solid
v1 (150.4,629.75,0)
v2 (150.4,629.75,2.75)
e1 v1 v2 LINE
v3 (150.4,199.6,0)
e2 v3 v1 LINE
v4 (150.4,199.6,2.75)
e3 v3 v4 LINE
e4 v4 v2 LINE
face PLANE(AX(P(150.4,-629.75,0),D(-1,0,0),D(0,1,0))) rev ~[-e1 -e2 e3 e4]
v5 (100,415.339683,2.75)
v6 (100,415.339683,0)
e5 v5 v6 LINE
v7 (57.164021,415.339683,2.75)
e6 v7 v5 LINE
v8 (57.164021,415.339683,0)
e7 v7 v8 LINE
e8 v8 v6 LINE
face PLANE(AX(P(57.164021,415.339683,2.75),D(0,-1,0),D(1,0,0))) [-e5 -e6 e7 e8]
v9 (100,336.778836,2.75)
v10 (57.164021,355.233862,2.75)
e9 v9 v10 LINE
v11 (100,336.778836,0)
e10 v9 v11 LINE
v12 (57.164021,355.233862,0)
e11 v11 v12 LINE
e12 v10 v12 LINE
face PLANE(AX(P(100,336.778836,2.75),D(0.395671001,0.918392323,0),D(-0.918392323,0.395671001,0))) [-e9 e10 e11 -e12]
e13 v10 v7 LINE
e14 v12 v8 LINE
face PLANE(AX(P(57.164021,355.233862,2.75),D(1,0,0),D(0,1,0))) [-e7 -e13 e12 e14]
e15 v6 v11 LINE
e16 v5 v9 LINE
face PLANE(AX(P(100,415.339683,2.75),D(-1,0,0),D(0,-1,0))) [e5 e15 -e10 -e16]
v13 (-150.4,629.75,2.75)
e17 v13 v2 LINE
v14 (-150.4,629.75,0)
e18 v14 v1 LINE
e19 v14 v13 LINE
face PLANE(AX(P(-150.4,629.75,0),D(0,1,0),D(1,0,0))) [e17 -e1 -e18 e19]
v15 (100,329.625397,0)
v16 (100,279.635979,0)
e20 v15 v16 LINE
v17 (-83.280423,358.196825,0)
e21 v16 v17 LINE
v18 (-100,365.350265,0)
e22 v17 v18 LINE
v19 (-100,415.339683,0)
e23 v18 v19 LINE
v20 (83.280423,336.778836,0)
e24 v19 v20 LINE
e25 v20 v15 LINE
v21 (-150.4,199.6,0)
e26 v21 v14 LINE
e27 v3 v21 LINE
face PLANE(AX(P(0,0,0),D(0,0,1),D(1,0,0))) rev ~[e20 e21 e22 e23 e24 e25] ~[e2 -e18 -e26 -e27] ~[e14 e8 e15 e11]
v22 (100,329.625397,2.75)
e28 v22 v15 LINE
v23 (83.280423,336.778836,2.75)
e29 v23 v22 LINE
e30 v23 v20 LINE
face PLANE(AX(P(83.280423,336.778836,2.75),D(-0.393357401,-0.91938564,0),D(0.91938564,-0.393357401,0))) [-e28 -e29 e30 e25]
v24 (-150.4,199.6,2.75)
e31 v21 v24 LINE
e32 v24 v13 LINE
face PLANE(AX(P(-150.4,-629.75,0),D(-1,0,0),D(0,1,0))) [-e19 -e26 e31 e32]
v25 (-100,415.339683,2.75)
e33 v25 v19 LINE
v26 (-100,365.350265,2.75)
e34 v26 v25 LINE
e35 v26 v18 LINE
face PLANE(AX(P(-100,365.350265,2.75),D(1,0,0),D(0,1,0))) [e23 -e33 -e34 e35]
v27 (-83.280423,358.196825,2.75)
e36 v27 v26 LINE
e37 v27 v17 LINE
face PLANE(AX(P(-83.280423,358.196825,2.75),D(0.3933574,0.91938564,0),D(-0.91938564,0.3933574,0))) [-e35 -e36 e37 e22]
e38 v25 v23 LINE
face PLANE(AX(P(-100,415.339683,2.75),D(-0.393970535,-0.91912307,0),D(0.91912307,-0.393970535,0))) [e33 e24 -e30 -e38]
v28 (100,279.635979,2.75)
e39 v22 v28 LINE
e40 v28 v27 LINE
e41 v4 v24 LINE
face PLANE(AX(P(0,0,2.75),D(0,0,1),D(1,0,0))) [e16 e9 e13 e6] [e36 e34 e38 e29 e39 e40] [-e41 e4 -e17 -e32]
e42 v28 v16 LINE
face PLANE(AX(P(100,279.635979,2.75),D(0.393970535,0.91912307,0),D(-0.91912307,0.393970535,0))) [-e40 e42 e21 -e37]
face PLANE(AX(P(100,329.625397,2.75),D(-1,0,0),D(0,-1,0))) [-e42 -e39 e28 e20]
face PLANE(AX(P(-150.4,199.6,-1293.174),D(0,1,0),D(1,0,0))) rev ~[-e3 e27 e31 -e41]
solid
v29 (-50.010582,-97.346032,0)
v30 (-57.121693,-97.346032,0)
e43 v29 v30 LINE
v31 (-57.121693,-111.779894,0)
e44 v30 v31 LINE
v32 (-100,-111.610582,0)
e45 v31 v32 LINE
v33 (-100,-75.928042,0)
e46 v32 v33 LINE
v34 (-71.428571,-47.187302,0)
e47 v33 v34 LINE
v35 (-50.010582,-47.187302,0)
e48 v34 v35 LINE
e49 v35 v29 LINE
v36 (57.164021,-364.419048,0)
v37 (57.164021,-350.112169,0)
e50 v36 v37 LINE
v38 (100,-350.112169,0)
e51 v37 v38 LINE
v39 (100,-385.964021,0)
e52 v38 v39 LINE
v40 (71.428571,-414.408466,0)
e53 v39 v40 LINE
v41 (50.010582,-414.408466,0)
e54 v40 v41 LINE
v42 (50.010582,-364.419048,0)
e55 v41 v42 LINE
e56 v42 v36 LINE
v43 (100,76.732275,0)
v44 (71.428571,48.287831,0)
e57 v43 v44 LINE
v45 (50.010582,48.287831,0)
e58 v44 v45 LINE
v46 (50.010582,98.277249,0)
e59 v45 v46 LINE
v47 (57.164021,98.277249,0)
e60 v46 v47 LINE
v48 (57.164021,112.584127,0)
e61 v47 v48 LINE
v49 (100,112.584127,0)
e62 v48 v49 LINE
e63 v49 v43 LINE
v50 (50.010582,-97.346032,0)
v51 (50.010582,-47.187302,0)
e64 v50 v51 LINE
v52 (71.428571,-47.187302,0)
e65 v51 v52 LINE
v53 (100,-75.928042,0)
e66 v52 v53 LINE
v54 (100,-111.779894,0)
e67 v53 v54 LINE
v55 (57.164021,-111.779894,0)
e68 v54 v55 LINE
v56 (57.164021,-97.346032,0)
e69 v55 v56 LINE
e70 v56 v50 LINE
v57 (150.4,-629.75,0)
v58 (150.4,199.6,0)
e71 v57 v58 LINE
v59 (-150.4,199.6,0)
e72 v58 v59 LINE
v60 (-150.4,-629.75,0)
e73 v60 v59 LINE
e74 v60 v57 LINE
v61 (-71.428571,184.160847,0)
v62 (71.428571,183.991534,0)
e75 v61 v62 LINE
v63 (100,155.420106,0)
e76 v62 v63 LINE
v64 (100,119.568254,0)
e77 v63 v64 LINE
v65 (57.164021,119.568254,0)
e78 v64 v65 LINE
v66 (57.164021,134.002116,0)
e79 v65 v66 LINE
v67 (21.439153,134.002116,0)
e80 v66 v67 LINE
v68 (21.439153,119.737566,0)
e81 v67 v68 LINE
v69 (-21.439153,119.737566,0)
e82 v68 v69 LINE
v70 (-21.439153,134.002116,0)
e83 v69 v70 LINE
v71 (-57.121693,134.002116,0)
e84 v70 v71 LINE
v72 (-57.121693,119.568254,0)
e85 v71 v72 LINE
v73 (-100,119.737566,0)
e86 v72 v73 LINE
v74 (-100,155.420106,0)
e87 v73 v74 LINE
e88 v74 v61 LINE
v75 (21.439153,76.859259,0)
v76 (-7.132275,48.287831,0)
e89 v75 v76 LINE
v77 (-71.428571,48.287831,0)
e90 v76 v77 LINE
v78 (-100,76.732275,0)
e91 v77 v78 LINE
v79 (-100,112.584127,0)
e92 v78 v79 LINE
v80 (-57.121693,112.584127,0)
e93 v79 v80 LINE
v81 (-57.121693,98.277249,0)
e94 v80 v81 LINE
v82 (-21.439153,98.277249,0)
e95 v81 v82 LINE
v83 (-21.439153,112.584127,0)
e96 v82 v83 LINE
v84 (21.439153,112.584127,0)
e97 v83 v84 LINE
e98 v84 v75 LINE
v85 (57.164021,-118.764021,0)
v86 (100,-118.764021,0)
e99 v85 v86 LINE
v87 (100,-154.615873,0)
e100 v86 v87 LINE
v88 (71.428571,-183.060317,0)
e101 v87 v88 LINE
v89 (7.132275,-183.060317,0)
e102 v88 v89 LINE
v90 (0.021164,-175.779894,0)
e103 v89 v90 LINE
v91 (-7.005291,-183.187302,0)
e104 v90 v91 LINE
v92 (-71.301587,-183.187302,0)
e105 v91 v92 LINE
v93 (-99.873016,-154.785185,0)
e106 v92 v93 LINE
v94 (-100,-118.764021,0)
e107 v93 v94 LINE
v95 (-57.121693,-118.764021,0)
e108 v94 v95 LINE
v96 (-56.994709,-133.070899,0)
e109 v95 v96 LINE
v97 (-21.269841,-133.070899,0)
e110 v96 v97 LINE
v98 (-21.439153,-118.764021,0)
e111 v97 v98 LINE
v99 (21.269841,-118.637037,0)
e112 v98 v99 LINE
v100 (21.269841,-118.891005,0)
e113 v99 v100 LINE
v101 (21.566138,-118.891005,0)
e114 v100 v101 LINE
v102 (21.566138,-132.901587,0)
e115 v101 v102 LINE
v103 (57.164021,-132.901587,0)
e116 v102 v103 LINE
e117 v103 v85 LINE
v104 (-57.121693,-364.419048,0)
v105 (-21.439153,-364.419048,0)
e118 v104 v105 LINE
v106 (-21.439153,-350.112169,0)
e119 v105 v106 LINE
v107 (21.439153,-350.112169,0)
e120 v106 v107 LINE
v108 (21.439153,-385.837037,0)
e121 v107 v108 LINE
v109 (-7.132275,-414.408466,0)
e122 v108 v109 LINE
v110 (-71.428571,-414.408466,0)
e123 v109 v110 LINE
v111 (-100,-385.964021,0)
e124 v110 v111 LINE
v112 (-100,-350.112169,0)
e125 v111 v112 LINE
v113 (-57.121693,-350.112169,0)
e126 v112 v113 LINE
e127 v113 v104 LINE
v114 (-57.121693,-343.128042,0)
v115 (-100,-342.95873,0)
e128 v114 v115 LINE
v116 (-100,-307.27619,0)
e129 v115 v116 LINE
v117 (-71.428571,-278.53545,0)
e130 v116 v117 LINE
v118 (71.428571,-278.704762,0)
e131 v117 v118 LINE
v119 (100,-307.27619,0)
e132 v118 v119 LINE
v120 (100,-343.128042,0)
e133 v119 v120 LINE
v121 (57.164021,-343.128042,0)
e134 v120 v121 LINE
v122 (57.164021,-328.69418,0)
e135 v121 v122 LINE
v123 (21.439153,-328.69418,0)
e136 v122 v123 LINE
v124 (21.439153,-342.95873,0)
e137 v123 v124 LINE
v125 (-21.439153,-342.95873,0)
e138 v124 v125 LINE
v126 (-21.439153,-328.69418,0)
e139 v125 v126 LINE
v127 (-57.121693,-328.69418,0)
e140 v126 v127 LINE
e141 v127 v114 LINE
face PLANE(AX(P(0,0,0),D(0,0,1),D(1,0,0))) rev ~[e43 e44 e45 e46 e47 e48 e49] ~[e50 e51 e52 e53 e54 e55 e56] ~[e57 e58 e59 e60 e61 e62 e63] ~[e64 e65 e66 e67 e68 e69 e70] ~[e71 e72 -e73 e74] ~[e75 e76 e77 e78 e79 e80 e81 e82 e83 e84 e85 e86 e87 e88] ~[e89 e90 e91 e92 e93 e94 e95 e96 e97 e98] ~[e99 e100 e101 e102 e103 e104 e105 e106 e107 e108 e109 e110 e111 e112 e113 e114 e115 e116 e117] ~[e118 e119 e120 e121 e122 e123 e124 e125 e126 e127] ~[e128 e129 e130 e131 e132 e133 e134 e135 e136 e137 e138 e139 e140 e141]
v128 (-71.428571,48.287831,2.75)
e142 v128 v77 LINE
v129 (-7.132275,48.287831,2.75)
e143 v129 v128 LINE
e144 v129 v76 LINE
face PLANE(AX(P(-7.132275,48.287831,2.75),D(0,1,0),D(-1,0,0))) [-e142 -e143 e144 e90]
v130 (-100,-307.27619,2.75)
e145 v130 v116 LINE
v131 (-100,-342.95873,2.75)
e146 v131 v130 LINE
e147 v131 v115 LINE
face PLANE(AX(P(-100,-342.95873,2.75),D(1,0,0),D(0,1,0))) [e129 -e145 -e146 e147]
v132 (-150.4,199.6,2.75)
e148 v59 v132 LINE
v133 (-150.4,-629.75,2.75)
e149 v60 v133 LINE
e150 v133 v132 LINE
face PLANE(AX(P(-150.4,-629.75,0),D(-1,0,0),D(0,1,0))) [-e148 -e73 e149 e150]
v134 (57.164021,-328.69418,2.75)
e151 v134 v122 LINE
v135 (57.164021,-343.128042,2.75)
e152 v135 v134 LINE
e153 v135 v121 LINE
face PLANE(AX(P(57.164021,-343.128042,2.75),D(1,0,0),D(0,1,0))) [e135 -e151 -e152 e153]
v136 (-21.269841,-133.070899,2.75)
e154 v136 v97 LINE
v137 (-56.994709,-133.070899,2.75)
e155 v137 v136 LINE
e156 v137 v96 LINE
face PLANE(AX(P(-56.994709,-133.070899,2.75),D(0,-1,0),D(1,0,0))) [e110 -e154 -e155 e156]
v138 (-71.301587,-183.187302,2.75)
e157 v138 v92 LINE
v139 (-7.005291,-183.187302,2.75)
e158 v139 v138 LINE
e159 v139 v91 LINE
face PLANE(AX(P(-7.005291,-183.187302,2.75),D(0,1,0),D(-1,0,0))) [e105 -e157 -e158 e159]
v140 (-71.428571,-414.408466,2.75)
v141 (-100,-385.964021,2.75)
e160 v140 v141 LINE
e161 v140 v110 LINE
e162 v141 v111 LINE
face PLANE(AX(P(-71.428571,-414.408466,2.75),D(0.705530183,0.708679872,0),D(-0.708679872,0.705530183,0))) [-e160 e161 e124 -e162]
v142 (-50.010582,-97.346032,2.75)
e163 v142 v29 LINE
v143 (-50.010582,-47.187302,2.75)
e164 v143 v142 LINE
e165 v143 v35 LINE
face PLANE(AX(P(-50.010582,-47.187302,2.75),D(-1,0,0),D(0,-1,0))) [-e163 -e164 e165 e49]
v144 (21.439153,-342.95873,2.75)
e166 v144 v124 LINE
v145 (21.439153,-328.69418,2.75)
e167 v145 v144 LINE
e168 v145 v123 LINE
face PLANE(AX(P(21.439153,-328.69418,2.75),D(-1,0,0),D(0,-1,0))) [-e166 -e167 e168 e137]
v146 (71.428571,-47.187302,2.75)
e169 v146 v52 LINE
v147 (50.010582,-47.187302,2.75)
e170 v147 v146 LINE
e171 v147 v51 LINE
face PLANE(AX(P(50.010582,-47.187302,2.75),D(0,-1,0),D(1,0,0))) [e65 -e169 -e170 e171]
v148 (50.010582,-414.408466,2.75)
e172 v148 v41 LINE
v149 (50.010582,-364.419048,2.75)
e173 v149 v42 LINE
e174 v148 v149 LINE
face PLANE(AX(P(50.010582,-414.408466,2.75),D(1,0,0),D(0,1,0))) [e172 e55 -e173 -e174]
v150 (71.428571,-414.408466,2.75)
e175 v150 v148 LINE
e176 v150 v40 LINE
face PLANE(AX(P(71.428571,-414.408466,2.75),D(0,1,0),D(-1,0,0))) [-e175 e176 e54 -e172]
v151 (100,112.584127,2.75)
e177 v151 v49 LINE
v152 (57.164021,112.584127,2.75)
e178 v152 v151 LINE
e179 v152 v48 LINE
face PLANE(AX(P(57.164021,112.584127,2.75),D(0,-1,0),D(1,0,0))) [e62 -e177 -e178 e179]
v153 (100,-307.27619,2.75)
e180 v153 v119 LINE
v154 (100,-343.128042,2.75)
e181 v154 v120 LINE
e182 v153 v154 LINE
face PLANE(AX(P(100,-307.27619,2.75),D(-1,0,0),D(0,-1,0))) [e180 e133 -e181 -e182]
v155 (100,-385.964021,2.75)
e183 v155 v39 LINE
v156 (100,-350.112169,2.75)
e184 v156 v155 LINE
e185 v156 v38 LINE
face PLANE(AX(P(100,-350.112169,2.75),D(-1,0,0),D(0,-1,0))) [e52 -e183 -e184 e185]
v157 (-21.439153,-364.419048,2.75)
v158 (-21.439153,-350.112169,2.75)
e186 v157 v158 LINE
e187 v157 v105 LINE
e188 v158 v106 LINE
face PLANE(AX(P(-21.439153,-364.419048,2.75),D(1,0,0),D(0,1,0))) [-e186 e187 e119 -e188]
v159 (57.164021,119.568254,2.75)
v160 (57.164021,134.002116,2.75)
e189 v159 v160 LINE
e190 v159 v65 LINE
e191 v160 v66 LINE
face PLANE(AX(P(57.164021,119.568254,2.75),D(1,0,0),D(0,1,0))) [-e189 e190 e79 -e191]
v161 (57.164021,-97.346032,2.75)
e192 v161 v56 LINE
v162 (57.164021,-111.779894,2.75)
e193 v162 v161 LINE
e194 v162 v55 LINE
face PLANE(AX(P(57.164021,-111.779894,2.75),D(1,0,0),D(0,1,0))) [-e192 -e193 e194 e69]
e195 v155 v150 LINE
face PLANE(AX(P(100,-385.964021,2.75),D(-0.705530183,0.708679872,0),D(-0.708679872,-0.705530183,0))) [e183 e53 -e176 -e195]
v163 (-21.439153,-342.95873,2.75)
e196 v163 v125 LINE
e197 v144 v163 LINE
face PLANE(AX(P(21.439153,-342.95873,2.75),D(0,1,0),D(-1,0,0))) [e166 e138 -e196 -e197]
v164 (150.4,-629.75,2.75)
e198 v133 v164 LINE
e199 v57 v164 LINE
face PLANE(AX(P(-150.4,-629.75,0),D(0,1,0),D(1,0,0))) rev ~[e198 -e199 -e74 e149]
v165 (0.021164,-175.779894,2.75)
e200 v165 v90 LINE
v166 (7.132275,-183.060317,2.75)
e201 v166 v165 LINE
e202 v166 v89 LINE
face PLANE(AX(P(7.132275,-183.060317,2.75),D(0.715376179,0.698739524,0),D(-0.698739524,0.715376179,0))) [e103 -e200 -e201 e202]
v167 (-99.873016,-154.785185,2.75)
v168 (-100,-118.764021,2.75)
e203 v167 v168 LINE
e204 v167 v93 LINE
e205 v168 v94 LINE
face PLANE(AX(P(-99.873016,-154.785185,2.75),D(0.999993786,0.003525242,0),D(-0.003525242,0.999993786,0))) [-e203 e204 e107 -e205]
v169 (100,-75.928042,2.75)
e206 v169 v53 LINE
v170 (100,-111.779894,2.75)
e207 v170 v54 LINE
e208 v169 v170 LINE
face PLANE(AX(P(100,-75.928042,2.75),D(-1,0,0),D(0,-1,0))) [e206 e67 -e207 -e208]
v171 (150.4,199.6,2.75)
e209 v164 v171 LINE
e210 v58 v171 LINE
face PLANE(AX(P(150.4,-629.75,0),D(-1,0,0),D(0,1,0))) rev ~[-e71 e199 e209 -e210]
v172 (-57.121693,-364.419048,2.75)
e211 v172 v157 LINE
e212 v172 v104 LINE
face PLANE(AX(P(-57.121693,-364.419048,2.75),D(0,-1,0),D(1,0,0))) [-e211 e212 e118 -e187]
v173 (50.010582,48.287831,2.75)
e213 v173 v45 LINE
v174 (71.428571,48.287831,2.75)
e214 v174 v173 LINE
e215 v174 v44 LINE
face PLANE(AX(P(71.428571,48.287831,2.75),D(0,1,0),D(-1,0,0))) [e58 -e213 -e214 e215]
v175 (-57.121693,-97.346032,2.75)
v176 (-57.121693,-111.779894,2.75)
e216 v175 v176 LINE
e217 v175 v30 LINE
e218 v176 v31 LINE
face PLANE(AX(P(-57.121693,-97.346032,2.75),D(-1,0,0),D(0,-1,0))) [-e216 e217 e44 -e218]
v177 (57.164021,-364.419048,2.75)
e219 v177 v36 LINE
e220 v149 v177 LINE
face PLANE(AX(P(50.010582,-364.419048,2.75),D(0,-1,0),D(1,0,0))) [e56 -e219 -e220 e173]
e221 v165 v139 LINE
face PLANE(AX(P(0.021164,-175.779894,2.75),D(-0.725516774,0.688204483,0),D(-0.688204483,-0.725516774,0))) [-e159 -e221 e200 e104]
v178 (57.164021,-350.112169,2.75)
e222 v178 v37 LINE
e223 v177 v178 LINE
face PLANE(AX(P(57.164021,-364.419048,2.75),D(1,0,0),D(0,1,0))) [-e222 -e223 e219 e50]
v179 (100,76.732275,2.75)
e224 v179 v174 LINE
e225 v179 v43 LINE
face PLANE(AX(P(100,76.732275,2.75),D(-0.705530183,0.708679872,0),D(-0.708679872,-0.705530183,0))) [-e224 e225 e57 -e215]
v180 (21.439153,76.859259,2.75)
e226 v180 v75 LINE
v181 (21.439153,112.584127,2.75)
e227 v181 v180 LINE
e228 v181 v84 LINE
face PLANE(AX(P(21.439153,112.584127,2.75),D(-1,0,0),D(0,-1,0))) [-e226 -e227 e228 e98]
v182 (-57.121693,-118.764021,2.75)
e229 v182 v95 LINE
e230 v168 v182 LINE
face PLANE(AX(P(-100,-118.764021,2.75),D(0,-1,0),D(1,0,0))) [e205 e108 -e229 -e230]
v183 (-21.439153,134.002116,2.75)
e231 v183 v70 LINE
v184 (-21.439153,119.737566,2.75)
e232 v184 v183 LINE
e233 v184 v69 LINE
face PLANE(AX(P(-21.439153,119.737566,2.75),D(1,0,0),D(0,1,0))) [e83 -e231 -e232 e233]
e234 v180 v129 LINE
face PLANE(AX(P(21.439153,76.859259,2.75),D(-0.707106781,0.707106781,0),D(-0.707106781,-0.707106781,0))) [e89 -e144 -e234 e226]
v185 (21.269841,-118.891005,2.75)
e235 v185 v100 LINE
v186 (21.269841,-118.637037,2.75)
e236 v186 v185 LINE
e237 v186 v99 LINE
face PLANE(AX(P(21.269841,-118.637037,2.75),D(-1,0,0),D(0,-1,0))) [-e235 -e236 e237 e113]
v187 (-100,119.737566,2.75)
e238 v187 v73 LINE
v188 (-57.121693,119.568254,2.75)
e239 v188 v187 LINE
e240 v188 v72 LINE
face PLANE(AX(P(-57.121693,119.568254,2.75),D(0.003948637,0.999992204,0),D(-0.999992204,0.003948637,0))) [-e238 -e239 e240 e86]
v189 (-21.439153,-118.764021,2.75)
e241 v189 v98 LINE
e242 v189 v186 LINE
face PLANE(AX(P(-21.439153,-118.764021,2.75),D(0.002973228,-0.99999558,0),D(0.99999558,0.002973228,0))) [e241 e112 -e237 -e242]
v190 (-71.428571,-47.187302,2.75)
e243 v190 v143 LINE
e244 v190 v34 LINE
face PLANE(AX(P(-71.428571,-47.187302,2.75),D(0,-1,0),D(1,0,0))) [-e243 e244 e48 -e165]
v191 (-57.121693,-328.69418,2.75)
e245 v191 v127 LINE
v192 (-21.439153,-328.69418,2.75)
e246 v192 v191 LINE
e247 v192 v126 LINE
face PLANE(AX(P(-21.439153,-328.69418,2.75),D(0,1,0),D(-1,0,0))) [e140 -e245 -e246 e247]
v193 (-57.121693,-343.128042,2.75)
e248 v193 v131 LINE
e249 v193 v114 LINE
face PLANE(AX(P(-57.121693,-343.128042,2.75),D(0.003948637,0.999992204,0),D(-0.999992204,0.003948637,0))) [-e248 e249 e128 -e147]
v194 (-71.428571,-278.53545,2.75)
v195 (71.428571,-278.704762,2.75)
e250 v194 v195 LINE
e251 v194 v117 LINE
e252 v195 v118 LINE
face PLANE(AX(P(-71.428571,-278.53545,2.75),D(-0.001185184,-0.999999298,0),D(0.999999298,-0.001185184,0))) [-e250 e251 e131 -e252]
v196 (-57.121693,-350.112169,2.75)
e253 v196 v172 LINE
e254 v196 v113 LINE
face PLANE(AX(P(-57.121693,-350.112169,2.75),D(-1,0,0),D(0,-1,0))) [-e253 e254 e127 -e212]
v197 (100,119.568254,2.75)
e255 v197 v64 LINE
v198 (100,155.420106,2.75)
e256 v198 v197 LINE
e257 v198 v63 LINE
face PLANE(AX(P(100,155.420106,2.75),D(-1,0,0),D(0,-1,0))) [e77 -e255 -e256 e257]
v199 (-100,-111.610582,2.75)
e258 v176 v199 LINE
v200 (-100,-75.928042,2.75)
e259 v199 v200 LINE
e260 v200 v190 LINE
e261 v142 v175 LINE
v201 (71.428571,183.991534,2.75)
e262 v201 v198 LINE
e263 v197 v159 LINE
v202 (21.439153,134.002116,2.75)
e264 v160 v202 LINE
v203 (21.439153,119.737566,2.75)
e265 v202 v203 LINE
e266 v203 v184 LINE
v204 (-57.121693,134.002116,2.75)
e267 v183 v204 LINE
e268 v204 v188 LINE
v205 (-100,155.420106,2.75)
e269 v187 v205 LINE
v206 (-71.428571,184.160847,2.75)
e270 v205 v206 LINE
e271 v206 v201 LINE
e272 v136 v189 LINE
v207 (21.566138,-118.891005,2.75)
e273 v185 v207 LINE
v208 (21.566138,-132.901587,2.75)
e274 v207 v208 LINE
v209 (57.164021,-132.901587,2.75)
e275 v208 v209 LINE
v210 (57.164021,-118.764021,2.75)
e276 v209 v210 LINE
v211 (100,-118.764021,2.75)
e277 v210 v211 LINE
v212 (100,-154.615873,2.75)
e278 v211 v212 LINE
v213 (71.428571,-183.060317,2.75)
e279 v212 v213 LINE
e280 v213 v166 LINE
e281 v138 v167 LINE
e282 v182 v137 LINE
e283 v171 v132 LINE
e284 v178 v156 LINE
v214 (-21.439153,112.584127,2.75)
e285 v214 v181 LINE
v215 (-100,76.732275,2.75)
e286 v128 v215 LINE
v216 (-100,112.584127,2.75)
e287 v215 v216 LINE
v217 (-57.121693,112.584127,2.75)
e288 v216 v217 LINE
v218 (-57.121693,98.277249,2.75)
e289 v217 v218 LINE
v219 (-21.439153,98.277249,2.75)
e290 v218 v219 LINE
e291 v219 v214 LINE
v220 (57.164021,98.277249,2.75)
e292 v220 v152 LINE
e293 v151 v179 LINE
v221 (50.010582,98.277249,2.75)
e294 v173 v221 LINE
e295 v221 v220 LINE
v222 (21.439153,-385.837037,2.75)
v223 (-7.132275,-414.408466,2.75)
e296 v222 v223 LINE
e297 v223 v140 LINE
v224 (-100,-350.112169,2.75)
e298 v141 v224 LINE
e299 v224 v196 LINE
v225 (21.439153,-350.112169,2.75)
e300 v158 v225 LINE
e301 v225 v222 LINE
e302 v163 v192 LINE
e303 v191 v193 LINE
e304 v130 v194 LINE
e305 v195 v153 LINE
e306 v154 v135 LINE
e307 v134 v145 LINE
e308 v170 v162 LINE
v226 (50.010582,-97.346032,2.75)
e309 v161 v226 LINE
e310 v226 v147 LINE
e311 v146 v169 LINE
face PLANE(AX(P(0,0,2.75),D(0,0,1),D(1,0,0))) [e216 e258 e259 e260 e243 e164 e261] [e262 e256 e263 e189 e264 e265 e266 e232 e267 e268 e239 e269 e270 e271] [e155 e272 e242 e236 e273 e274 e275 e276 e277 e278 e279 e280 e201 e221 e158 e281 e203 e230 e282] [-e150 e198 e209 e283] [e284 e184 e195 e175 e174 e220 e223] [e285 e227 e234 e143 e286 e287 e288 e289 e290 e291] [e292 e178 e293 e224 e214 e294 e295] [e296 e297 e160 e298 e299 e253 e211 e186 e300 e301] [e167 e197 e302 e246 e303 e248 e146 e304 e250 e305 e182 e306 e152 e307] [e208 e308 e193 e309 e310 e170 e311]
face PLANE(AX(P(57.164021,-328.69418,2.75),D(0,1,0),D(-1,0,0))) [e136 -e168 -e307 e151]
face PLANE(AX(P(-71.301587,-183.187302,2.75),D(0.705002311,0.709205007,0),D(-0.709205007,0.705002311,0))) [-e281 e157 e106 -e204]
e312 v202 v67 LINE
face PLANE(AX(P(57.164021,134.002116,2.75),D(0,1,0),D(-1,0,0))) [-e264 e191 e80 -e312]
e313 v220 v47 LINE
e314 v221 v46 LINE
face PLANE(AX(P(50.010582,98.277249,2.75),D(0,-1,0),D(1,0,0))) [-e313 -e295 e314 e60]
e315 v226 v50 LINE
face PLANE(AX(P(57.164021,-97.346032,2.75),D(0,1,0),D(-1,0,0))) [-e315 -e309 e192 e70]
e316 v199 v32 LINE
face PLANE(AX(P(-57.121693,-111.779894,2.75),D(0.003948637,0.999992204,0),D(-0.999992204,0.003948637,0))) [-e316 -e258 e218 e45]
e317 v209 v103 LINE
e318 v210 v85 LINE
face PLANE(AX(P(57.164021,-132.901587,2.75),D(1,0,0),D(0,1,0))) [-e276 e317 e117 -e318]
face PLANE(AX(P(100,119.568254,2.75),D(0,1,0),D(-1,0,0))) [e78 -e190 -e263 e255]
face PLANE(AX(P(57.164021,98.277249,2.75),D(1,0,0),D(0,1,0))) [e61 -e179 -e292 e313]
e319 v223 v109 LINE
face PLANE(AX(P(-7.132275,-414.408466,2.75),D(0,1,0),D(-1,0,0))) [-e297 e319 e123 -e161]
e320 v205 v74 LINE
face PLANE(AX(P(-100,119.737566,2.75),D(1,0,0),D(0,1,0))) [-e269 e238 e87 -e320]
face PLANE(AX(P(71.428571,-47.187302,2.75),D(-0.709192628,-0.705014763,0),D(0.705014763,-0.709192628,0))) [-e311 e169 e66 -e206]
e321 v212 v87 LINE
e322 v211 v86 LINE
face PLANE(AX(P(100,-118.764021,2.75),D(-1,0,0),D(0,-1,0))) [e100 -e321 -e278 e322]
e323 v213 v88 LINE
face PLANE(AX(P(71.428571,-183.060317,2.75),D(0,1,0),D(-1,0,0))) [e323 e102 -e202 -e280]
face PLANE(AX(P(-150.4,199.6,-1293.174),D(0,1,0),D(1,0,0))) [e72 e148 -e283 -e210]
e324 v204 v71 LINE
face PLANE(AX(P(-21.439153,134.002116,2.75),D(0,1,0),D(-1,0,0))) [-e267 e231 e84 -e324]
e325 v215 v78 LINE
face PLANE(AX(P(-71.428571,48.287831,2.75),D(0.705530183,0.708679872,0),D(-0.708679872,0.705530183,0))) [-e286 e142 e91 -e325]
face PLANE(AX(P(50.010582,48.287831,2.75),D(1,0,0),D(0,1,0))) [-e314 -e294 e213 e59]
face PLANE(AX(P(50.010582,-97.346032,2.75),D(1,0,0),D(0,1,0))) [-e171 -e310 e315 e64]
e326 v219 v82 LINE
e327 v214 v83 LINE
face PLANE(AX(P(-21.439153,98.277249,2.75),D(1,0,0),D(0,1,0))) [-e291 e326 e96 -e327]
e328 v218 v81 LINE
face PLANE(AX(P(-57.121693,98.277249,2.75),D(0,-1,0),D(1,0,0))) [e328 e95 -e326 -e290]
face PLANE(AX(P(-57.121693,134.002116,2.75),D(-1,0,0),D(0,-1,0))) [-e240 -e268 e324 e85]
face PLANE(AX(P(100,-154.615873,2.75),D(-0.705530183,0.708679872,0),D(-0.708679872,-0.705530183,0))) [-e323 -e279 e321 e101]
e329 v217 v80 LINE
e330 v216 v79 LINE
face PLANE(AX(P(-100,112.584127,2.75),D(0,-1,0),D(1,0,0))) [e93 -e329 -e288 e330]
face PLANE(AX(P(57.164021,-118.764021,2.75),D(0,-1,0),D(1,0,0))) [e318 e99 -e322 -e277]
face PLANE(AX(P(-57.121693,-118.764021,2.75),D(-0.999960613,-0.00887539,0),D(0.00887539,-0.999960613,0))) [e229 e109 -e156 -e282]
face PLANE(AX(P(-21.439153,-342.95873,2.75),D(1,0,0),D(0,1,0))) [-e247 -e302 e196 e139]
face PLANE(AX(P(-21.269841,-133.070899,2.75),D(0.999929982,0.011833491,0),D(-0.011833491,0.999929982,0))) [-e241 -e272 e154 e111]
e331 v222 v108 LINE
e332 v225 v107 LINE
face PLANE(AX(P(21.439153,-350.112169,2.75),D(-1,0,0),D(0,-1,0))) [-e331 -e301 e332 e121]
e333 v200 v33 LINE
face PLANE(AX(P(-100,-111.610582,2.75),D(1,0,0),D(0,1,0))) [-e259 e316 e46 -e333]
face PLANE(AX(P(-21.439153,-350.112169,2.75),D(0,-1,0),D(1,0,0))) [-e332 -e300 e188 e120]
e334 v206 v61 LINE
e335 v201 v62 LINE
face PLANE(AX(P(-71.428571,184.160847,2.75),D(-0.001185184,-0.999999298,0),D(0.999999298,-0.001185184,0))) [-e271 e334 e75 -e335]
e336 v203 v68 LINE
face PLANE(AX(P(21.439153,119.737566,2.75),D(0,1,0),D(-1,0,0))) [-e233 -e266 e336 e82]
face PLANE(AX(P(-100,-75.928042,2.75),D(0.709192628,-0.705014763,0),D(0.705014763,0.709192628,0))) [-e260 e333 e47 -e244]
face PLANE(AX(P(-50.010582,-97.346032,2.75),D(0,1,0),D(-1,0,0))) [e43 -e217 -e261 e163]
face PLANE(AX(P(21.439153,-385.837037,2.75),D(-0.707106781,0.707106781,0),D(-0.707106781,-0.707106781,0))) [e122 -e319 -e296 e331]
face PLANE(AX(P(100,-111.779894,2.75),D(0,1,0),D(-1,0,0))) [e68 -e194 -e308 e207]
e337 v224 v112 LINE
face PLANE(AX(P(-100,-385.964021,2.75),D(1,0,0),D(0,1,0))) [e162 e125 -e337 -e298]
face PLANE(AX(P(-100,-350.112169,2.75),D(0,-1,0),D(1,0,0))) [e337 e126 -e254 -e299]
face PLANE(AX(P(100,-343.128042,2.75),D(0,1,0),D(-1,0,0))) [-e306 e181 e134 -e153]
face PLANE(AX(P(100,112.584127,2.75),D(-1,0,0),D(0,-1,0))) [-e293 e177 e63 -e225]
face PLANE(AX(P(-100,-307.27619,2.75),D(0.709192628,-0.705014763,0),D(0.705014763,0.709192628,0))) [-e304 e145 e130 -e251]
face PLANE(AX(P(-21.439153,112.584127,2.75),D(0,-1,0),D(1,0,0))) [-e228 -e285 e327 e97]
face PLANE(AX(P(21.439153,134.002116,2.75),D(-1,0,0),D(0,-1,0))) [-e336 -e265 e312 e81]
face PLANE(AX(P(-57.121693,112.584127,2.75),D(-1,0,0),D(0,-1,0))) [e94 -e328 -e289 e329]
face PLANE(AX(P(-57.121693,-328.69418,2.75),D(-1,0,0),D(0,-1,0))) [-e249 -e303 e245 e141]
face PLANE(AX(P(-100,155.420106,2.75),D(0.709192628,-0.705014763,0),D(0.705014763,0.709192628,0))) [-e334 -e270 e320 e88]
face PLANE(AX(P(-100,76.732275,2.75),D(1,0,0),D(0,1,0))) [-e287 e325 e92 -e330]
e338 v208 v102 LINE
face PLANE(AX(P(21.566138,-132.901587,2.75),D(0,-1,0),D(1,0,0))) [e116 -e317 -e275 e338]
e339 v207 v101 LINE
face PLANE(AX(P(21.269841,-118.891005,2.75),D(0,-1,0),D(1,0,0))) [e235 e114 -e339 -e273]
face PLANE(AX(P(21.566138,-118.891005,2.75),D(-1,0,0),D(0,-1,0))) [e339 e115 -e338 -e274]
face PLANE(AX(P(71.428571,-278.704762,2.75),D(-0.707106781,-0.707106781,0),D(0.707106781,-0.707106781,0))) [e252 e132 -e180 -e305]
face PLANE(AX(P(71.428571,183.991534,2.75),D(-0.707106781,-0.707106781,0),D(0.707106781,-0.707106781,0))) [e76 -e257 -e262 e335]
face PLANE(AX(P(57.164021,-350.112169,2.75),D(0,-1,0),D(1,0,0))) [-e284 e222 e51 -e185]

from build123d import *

# Parameters (mm, degrees)
SKETCH_1_W                     = 300.8
SKETCH_1_H                     = 1259.5
EXTRUDE_1_DEPTH                = 2.75
CUT_EXTRUDE_1_DEPTH            = 10
SPLIT_BODIES_5_SURFACE_1_BACK  = 1295.924
SPLIT_BODIES_5_SURFACE_1_DEPTH = 2591.848
SPLIT_BODIES_5_SURFACE_2_BACK  = 1295.924
SPLIT_BODIES_5_SURFACE_2_DEPTH = 2591.848


with BuildPart() as part:
    # 草圖1 → 填料-伸長1 (new body)
    with BuildSketch(Plane.XY):
        Rectangle(SKETCH_1_W, SKETCH_1_H)
    extrude(amount=EXTRUDE_1_DEPTH)

    # 草圖2 → 除料-伸長1 (cut)
    with BuildSketch(Plane.XY.offset(2.75)):
        Polygon((100, 329.625396825), (100, 279.635978836), (-83.28042328, 358.196825397), (-100, 365.35026455), (-100, 415.33968254), (83.28042328, 336.778835979), align=None)
        Polygon((57.164021164, 355.233862434), (57.164021164, 415.33968254), (100, 415.33968254), (100, 336.778835979), align=None)
        Polygon((50.010582011, 98.277248677), (57.164021164, 98.277248677), (57.164021164, 112.584126984), (100, 112.584126984), (100, 76.732275132), (71.428571429, 48.287830688), (50.010582011, 48.287830688), align=None)
        Polygon((-71.428571429, 48.287830688), (-100, 76.732275132), (-100, 112.584126984), (-57.121693122, 112.584126984), (-57.121693122, 98.277248677), (-21.439153439, 98.277248677), (-21.439153439, 112.584126984), (21.439153439, 112.584126984), (21.439153439, 76.859259259), (-7.132275132, 48.287830688), align=None)
        Polygon((-21.439153439, 134.002116402), (-57.121693122, 134.002116402), (-57.121693122, 119.568253968), (-100, 119.737566138), (-100, 155.42010582), (-71.428571429, 184.160846561), (71.428571429, 183.991534392), (100, 155.42010582), (100, 119.568253968), (57.164021164, 119.568253968), (57.164021164, 134.002116402), (21.439153439, 134.002116402), (21.439153439, 119.737566138), (-21.439153439, 119.737566138), align=None)
        Polygon((21.566137566, -132.901587302), (57.164021164, -132.901587302), (57.164021164, -118.764021164), (100, -118.764021164), (100, -154.615873016), (71.428571429, -183.06031746), (7.132275132, -183.06031746), (0.021164021, -175.77989418), (-7.005291005, -183.187301587), (-71.301587302, -183.187301587), (-99.873015873, -154.785185185), (-100, -118.764021164), (-57.121693122, -118.764021164), (-56.994708995, -133.070899471), (-21.26984127, -133.070899471), (-21.439153439, -118.764021164), (21.26984127, -118.637037037), (21.26984127, -118.891005291), (21.566137566, -118.891005291), align=None)
        Polygon((50.010582011, -47.187301587), (71.428571429, -47.187301587), (100, -75.928042328), (100, -111.77989418), (57.164021164, -111.77989418), (57.164021164, -97.346031746), (50.010582011, -97.346031746), align=None)
        Polygon((-50.010582011, -97.346031746), (-57.121693122, -97.346031746), (-57.121693122, -111.77989418), (-100, -111.610582011), (-100, -75.928042328), (-71.428571429, -47.187301587), (-50.010582011, -47.187301587), align=None)
        Polygon((50.010582011, -364.419047619), (57.164021164, -364.419047619), (57.164021164, -350.112169312), (100, -350.112169312), (100, -385.964021164), (71.428571429, -414.408465608), (50.010582011, -414.408465608), align=None)
        Polygon((-71.428571429, -414.408465608), (-100, -385.964021164), (-100, -350.112169312), (-57.121693122, -350.112169312), (-57.121693122, -364.419047619), (-21.439153439, -364.419047619), (-21.439153439, -350.112169312), (21.439153439, -350.112169312), (21.439153439, -385.837037037), (-7.132275132, -414.408465608), align=None)
        Polygon((-21.439153439, -328.694179894), (-57.121693122, -328.694179894), (-57.121693122, -343.128042328), (-100, -342.958730159), (-100, -307.276190476), (-71.428571429, -278.535449735), (71.428571429, -278.704761905), (100, -307.276190476), (100, -343.128042328), (57.164021164, -343.128042328), (57.164021164, -328.694179894), (21.439153439, -328.694179894), (21.439153439, -342.958730159), (-21.439153439, -342.958730159), align=None)
    extrude(amount=-CUT_EXTRUDE_1_DEPTH, mode=Mode.SUBTRACT)


with BuildPart() as body_2:
    # Split Bodies 5: the piece behind the surface
    add(part.part)
    # Split Bodies 5 surface: a surface, the sketch's curves swept straight by 2591.848 mm
    with BuildLine(Plane.XY.offset(2.75).offset(-SPLIT_BODIES_5_SURFACE_1_BACK), mode=Mode.PRIVATE) as split_bodies_5_surface_1_path:
        Line((-150.4, 199.6), (150.4, 199.6))
    split_bodies_5_surface_1 = Shell.extrude(split_bodies_5_surface_1_path.wire(), (0 * SPLIT_BODIES_5_SURFACE_1_DEPTH, 0 * SPLIT_BODIES_5_SURFACE_1_DEPTH, 1 * SPLIT_BODIES_5_SURFACE_1_DEPTH))
    split(bisect_by=split_bodies_5_surface_1, keep=Keep.BOTTOM)


with BuildPart() as part_1:
    add(part.part)

    # Split Bodies 5: split by a surface, the side it looks to stays
    # Split Bodies 5 surface: a surface, the sketch's curves swept straight by 2591.848 mm
    with BuildLine(Plane.XY.offset(2.75).offset(-SPLIT_BODIES_5_SURFACE_2_BACK), mode=Mode.PRIVATE) as split_bodies_5_surface_2_path:
        Line((-150.4, 199.6), (150.4, 199.6))
    split_bodies_5_surface_2 = Shell.extrude(split_bodies_5_surface_2_path.wire(), (0 * SPLIT_BODIES_5_SURFACE_2_DEPTH, 0 * SPLIT_BODIES_5_SURFACE_2_DEPTH, 1 * SPLIT_BODIES_5_SURFACE_2_DEPTH))
    split(bisect_by=split_bodies_5_surface_2, keep=Keep.TOP)


solid = Compound([body_2.part, part_1.part])
